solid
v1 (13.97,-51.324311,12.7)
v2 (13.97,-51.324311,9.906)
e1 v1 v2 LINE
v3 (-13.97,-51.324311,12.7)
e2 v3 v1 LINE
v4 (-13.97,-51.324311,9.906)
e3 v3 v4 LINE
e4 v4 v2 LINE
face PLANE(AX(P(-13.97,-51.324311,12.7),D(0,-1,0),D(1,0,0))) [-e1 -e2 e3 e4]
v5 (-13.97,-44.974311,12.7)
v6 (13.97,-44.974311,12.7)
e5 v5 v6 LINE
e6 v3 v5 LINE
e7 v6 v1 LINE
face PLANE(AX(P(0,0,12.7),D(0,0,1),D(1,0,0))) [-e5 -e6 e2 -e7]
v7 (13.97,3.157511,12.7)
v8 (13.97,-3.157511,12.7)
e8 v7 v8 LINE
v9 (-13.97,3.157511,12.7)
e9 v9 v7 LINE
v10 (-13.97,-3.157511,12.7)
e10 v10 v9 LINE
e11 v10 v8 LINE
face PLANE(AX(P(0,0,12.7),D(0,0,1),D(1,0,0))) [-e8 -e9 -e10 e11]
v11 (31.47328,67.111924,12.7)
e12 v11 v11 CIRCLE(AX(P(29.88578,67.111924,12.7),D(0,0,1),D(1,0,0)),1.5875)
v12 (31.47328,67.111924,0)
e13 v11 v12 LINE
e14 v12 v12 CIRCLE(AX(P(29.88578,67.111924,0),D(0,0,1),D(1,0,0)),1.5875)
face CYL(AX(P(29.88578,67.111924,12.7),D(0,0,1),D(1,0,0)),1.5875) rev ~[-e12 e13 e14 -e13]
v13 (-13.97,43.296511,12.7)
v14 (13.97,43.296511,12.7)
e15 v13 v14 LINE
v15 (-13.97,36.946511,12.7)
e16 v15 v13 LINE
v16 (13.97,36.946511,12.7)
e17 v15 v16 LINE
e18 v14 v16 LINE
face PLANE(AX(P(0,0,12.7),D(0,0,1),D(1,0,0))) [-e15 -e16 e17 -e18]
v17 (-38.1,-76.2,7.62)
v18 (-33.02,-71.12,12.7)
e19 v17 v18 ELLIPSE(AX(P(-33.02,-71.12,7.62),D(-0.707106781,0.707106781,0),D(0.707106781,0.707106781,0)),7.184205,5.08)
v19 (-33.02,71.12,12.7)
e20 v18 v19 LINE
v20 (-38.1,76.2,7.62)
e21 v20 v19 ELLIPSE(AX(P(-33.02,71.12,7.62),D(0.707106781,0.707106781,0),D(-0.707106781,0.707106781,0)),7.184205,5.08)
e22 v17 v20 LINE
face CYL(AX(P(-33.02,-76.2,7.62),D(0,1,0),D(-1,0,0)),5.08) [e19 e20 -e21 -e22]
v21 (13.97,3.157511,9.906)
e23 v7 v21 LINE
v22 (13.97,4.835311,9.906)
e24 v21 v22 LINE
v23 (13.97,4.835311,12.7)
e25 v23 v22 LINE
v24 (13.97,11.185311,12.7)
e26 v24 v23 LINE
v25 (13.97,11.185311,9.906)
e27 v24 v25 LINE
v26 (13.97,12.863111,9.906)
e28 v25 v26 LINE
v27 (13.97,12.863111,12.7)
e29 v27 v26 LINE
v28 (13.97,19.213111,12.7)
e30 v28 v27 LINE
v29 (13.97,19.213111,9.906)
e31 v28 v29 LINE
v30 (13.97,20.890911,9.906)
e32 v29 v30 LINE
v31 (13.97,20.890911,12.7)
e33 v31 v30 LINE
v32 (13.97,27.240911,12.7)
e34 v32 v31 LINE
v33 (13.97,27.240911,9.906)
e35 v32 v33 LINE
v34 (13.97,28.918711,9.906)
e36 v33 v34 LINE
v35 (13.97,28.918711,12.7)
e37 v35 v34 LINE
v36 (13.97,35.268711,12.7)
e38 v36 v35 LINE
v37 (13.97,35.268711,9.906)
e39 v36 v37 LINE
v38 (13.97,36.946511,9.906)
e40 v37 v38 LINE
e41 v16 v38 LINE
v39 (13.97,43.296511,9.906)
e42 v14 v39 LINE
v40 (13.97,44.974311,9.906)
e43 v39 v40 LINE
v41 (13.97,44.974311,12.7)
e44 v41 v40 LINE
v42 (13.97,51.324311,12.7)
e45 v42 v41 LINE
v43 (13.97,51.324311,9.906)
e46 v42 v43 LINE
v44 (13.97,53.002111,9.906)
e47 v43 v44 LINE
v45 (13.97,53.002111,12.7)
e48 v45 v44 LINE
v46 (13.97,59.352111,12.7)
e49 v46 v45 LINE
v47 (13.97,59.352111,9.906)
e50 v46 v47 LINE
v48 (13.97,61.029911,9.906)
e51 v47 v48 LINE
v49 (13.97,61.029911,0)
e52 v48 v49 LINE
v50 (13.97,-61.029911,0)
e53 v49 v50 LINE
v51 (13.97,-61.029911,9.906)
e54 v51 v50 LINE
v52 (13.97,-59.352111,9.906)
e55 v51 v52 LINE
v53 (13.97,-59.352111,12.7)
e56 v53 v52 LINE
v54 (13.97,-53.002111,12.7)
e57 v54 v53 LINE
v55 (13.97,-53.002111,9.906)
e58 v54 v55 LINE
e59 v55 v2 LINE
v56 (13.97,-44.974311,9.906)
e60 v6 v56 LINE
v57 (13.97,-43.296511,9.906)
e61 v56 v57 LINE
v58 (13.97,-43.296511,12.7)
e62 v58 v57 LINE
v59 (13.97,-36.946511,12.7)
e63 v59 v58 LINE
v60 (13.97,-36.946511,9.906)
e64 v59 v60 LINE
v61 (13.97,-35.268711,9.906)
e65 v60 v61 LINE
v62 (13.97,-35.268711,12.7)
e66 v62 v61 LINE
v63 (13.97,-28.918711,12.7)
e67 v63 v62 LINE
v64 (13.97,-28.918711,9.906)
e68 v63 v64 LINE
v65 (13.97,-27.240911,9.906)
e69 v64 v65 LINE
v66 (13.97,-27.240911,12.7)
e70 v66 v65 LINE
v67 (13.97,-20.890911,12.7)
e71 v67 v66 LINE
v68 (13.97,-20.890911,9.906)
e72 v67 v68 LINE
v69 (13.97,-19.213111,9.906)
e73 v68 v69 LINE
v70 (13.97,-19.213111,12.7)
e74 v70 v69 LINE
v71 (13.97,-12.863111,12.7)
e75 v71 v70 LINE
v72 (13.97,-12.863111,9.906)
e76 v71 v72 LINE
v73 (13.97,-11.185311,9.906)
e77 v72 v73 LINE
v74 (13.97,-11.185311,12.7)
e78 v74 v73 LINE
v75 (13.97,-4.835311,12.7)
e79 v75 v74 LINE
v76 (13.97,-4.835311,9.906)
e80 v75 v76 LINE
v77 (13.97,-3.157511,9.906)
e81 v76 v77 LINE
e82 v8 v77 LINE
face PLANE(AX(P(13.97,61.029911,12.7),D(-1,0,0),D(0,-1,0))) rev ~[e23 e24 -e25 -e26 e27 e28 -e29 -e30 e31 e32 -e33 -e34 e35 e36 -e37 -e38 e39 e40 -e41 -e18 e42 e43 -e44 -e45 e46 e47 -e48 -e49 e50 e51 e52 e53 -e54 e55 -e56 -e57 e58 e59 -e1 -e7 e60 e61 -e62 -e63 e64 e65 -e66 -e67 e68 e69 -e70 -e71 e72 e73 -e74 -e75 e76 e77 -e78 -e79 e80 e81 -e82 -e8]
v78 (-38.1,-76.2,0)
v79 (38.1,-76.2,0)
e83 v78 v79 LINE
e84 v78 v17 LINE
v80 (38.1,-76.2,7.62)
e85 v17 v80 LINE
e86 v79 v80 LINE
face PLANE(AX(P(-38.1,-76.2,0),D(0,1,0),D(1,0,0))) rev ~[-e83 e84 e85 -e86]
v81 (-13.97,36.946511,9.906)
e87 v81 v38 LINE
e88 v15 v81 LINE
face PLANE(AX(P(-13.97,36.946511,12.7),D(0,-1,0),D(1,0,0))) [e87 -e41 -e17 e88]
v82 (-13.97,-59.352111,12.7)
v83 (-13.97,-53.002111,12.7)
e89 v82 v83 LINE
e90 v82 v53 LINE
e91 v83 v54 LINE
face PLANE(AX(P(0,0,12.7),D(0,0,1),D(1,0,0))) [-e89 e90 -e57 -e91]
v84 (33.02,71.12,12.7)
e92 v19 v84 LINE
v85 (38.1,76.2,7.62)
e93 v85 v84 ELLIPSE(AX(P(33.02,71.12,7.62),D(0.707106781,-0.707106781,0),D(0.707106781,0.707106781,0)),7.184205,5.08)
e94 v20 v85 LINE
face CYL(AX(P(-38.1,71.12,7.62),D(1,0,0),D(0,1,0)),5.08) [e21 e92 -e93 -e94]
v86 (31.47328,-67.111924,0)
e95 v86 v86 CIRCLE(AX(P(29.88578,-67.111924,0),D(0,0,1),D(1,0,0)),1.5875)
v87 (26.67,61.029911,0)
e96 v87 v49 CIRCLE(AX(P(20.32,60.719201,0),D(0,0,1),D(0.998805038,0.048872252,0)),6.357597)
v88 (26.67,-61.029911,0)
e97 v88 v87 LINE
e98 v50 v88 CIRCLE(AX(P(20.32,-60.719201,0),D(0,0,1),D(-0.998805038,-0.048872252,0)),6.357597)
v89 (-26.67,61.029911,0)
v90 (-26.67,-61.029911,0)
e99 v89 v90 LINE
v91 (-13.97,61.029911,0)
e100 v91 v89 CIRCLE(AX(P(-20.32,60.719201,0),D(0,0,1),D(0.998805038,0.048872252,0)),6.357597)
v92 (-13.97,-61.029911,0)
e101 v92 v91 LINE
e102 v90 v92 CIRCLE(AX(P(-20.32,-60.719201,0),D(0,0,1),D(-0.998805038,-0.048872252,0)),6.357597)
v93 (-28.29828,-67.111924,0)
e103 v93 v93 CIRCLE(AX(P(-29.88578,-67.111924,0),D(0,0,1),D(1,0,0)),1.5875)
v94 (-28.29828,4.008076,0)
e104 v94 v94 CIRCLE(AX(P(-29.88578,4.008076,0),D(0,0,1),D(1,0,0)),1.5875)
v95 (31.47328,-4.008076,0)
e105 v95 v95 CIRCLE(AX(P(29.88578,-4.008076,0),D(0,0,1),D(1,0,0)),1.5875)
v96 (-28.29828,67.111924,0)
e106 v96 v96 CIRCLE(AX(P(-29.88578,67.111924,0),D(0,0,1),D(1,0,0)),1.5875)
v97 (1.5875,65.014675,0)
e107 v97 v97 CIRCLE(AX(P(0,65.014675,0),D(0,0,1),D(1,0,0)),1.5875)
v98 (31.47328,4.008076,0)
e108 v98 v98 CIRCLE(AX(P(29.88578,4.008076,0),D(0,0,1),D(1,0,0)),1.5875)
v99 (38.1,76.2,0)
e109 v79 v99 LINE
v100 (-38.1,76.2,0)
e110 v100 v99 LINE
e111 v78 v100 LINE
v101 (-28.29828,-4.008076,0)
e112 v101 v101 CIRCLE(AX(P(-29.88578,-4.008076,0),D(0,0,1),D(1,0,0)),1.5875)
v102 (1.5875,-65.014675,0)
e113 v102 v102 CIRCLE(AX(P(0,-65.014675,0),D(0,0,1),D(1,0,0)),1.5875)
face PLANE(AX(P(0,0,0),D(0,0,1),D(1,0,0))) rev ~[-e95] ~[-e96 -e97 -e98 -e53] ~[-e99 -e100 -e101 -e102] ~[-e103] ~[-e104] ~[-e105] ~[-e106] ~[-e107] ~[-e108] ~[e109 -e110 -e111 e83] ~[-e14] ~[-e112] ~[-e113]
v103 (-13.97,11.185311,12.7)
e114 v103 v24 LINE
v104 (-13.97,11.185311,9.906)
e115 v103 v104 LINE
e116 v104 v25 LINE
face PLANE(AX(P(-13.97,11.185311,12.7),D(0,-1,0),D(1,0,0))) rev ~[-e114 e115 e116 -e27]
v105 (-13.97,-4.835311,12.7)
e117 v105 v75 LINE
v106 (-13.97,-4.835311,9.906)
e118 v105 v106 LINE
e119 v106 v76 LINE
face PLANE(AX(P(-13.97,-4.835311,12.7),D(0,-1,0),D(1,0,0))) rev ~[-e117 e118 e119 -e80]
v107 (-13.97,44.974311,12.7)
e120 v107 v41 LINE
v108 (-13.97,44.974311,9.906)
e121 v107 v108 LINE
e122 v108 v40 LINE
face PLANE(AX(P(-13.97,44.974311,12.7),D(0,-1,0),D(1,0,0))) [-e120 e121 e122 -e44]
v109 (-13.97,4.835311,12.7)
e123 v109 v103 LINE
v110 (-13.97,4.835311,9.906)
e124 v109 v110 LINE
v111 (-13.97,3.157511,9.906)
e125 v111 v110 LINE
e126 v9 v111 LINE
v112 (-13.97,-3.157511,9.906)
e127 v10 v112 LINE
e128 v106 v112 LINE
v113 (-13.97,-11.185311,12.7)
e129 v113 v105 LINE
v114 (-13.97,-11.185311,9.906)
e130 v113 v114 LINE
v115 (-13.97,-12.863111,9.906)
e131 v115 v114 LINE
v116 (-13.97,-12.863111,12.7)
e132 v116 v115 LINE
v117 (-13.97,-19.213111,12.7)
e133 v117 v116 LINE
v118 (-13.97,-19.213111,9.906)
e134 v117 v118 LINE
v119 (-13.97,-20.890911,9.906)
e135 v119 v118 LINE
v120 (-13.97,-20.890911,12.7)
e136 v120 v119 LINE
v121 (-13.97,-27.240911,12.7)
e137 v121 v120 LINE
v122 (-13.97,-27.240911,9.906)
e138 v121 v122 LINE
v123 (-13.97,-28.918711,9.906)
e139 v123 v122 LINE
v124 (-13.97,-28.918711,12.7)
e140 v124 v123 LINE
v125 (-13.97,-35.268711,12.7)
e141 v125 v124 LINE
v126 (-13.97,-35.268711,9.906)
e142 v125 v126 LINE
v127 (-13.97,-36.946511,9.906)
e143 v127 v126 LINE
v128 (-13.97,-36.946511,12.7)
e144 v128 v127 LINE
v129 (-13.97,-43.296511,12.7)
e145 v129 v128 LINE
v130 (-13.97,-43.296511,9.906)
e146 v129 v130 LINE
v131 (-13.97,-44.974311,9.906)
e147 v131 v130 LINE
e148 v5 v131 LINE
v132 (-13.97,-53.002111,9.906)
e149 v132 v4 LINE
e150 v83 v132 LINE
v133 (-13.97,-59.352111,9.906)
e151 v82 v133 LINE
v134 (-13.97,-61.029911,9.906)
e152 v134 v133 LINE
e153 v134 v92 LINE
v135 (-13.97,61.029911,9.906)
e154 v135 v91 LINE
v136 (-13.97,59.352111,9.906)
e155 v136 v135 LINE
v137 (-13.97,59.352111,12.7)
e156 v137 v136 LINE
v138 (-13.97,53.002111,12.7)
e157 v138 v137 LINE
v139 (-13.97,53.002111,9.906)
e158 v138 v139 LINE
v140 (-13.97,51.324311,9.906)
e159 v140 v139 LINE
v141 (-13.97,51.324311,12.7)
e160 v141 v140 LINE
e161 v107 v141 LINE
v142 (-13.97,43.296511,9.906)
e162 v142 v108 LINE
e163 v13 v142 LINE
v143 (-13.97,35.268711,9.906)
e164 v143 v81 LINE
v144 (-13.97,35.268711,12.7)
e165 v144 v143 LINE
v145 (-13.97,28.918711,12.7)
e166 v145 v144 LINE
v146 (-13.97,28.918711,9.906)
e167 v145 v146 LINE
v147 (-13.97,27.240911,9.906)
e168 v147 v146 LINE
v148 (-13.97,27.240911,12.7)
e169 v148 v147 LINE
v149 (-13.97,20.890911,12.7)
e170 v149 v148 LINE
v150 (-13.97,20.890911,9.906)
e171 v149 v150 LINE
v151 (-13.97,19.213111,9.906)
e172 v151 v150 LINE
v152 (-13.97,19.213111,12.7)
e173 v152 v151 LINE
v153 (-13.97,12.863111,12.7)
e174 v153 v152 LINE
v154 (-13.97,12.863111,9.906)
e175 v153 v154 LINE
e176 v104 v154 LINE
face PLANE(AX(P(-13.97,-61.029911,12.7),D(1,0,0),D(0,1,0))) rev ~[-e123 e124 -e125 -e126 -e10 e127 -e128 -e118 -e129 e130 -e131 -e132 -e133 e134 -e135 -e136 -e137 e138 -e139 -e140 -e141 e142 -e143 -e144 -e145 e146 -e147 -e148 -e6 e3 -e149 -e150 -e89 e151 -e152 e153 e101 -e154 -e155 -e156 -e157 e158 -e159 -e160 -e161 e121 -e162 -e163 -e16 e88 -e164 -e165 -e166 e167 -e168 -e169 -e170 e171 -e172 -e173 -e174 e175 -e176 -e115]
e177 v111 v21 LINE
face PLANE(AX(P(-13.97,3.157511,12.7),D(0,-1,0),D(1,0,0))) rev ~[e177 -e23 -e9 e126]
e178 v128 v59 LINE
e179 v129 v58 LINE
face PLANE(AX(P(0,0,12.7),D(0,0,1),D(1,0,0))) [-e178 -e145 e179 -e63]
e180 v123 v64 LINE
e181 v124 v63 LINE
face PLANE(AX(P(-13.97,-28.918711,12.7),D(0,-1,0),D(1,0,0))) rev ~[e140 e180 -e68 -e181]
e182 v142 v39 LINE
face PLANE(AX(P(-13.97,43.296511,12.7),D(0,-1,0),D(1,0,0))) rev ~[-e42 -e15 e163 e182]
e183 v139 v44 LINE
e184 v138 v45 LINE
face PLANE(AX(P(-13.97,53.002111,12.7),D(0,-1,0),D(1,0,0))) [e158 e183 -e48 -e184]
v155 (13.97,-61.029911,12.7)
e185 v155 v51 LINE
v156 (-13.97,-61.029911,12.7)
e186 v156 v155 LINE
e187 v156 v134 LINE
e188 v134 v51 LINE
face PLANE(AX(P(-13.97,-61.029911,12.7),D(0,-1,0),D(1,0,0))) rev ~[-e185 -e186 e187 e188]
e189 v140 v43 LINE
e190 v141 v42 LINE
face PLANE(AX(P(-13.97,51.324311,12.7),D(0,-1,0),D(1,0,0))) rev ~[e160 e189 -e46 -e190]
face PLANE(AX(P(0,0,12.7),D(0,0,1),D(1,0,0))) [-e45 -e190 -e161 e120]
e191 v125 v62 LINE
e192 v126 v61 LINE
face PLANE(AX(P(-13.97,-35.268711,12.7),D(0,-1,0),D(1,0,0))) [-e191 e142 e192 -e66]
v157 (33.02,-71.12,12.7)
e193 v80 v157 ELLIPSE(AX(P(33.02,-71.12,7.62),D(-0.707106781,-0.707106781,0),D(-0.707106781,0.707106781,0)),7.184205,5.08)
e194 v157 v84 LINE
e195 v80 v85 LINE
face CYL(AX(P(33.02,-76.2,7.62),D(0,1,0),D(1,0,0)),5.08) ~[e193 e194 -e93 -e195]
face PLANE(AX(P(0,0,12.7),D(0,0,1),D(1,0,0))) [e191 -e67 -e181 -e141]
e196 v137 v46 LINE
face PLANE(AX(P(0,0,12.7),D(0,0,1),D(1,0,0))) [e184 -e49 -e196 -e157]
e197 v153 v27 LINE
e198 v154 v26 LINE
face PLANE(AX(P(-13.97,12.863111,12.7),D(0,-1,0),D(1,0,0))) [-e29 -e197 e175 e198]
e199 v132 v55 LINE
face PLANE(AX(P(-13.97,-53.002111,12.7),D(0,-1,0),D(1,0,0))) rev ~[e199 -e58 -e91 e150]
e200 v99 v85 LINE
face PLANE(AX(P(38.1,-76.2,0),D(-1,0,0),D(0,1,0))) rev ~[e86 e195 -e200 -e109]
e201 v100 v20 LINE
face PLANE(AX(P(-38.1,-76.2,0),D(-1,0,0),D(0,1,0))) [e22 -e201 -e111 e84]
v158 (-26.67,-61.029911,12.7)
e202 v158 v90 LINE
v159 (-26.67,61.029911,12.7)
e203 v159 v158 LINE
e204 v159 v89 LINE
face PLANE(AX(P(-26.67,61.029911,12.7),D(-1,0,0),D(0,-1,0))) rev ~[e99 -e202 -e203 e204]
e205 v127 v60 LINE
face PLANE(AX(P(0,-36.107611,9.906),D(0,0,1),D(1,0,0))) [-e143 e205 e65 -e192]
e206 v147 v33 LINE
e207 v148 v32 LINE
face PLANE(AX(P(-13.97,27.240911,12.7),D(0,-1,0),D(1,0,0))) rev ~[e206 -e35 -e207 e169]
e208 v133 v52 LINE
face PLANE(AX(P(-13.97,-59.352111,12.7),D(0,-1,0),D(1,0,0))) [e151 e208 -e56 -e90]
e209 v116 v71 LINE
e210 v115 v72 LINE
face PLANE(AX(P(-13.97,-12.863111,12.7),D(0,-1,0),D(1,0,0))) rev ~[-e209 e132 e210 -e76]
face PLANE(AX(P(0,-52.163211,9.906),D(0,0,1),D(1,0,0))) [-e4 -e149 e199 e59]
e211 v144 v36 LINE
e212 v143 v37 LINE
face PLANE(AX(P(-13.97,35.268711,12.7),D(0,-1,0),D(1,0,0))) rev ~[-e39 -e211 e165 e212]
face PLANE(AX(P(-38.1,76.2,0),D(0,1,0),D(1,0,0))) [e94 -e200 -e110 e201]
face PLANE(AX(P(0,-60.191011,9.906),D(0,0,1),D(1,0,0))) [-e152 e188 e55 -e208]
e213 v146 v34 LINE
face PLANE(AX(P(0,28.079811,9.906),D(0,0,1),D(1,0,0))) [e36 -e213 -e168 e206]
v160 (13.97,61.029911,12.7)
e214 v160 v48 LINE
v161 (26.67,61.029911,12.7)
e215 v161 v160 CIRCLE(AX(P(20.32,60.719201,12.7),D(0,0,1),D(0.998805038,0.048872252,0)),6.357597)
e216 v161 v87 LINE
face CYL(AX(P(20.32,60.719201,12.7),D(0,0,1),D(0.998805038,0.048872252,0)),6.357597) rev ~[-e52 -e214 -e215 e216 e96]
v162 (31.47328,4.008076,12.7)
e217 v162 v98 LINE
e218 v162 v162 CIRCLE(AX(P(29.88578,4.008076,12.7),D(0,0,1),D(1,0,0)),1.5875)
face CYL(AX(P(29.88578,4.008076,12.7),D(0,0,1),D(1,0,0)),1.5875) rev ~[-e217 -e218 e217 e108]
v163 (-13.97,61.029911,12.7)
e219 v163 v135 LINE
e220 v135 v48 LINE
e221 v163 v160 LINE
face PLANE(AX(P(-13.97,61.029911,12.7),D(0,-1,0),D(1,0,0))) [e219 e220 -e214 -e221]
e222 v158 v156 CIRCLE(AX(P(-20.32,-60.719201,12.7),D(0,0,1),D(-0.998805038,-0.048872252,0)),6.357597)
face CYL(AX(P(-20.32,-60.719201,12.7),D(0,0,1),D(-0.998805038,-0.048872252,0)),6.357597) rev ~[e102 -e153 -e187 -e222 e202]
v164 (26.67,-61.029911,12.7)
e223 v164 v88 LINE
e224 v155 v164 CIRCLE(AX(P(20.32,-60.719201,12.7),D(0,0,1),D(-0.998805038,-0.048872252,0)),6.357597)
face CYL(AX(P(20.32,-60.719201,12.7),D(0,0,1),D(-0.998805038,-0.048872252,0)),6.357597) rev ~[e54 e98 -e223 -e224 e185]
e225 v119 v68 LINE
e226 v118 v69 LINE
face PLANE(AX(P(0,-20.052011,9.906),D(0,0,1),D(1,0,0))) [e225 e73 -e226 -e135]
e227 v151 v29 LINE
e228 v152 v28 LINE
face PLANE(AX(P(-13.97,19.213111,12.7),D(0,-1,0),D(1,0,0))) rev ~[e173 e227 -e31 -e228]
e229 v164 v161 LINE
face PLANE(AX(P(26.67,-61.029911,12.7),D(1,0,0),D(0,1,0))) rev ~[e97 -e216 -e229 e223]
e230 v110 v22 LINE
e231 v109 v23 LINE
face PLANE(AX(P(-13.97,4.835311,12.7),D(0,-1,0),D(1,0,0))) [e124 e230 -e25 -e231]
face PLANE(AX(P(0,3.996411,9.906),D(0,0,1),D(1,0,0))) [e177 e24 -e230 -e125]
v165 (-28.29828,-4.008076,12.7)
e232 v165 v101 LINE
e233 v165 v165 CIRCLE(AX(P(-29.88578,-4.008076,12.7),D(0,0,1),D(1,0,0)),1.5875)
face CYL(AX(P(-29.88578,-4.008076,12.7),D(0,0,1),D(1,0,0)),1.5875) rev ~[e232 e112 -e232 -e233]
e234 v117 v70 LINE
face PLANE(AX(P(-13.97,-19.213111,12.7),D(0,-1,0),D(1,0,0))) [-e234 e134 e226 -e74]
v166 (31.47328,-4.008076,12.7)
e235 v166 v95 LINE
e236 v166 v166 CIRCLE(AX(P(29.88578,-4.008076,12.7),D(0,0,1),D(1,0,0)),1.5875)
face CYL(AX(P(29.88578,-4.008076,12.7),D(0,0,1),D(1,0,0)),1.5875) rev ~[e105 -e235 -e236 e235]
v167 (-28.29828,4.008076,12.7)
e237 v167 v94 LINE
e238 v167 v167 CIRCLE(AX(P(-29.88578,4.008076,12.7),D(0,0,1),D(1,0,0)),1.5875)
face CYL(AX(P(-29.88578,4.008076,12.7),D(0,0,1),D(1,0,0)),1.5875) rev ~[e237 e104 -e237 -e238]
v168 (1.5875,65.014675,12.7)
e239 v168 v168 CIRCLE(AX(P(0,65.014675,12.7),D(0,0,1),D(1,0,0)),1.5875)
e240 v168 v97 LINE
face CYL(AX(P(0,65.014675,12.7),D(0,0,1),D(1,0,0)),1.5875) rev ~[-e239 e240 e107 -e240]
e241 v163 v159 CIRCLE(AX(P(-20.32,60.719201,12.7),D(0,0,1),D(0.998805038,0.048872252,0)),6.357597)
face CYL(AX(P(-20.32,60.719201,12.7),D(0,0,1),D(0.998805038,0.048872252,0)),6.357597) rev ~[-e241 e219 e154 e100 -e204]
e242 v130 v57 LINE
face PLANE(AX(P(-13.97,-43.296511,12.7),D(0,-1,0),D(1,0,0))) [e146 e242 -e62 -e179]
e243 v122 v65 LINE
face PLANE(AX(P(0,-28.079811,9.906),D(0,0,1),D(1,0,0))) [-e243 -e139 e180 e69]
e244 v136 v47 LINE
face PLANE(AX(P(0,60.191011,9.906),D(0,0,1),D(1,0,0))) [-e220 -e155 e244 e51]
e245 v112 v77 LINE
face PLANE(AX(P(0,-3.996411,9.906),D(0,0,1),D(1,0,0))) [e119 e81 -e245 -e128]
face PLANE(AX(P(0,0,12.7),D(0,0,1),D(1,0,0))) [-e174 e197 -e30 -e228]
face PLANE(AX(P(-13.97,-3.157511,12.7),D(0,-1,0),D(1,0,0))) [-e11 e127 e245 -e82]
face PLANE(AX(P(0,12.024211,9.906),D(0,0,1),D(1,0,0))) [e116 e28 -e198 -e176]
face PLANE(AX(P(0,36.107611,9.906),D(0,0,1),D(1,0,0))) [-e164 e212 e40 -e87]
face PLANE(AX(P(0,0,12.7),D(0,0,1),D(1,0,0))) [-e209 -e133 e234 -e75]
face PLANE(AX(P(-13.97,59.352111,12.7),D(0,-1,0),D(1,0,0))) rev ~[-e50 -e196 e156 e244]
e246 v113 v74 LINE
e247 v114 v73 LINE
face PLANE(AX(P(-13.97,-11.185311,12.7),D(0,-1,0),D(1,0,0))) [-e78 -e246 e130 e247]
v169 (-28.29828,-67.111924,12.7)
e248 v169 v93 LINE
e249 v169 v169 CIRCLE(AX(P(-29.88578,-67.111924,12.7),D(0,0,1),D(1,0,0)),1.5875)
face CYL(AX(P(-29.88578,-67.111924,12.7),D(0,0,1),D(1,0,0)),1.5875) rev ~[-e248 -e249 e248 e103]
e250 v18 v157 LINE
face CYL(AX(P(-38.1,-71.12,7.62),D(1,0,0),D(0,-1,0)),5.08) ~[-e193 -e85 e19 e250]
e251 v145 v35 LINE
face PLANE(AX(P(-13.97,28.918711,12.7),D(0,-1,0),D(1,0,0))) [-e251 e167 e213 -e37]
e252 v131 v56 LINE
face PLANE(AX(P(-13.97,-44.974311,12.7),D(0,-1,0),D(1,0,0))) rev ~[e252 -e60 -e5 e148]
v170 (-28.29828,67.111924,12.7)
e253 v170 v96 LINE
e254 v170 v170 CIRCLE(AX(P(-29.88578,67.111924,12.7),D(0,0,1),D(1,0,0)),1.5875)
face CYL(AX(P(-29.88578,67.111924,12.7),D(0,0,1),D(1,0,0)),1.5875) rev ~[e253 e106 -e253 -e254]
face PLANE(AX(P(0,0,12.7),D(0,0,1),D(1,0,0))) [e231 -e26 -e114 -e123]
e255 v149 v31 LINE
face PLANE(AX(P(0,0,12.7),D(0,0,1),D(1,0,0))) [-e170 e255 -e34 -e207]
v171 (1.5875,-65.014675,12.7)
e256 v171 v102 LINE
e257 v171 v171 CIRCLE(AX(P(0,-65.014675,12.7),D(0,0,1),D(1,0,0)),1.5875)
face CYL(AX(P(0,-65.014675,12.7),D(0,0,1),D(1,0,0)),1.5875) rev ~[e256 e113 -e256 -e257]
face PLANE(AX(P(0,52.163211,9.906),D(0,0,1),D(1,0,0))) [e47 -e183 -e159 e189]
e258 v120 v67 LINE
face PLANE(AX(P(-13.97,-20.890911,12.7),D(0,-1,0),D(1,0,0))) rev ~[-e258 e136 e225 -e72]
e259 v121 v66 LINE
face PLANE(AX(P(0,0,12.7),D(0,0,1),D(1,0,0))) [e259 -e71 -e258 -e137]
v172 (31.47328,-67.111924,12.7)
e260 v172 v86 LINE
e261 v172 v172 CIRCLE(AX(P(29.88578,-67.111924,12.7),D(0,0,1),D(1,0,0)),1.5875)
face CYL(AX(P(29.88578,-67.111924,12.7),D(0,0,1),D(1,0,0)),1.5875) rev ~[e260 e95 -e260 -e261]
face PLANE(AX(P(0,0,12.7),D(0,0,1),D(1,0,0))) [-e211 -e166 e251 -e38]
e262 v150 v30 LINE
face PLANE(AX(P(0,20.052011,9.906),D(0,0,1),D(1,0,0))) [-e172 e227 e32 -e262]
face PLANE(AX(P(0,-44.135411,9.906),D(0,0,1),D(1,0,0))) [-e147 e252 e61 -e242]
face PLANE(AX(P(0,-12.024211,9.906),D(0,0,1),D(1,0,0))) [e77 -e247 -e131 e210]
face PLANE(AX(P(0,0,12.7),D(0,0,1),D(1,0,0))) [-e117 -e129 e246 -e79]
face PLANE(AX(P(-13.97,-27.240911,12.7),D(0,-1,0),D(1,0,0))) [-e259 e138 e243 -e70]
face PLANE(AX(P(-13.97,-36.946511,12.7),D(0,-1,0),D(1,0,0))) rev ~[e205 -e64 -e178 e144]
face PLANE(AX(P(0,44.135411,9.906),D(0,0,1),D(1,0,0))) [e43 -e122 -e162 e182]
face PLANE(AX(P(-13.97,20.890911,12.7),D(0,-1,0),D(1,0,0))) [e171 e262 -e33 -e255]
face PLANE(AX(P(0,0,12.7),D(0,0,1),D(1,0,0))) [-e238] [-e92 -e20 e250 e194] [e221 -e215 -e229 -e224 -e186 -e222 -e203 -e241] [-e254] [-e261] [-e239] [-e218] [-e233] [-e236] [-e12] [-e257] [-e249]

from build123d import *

# Parameters (mm, degrees)
F0_W     = 76.2
F0_H     = 152.4
F1_DEPTH = 12.7
F2_R     = 5.08
F4_DEPTH = 25.4
F5_R     = 1.5875
F6_DEPTH = 25.4
F7_W     = 27.94
F7_H     = 1.6778
F8_DEPTH = 2.794


with BuildPart() as f1:
    # F0 (on Top) → F1 (new body)
    with BuildSketch(Plane.XY):
        Rectangle(F0_W, F0_H)
    extrude(amount=F1_DEPTH)

    # F2
    f2_edges = [f1.edges().sort_by_distance(p)[0] for p in [
        (-38.1, 0, 12.7),
        (0, 76.2, 12.7),
        (38.1, 0, 12.7),
        (0, -76.2, 12.7),
    ]]
    fillet(f2_edges, radius=F2_R)

    # F3 (on face) → F4 (cut)
    with BuildSketch(Plane.XY.offset(12.7)):
        with BuildLine():
            Line((-13.97, -61.029911), (-13.97, 61.029911))
            ThreePointArc((-13.97, 61.029911), (-20.32, 67.076798), (-26.67, 61.029911))
            Line((-26.67, 61.029911), (-26.67, -61.029911))
            ThreePointArc((-26.67, -61.029911), (-20.32, -67.076798), (-13.97, -61.029911))
        make_face()
        with BuildLine():
            ThreePointArc((26.67, 61.029911), (20.32, 67.076798), (13.97, 61.029911))
            Line((13.97, 61.029911), (13.97, -61.029911))
            ThreePointArc((13.97, -61.029911), (20.32, -67.076798), (26.67, -61.029911))
            Line((26.67, -61.029911), (26.67, 61.029911))
        make_face()
    extrude(amount=-F4_DEPTH, mode=Mode.SUBTRACT)

    # F5 (on face) → F6 (cut)
    with BuildSketch(Plane.XY.offset(12.7)):
        with Locations((0, 65.014675)):
            Circle(F5_R)
        with Locations((0, -65.014675)):
            Circle(F5_R)
        with Locations((-29.88578, 67.111924)):
            Circle(F5_R)
        with Locations((29.88578, 67.111924)):
            Circle(F5_R)
        with Locations((29.88578, -67.111924)):
            Circle(F5_R)
        with Locations((-29.88578, -67.111924)):
            Circle(F5_R)
        with Locations((-29.88578, 4.008076)):
            Circle(F5_R)
        with Locations((29.88578, 4.008076)):
            Circle(F5_R)
        with Locations((-29.88578, -4.008076)):
            Circle(F5_R)
        with Locations((29.88578, -4.008076)):
            Circle(F5_R)
    extrude(amount=-F6_DEPTH, mode=Mode.SUBTRACT)

    # F7 (on face) → F8 (cut)
    with BuildSketch(Plane.XY.offset(12.7)):
        with Locations((0, 60.191011)):
            Rectangle(F7_W, F7_H)
        with Locations((0, 52.163211)):
            Rectangle(F7_W, F7_H)
        with Locations((0, 44.135411)):
            Rectangle(F7_W, F7_H)
        with Locations((0, 36.107611)):
            Rectangle(F7_W, F7_H)
        with Locations((0, 28.079811)):
            Rectangle(F7_W, F7_H)
        with Locations((0, 20.052011)):
            Rectangle(F7_W, F7_H)
        with Locations((0, 12.024211)):
            Rectangle(F7_W, F7_H)
        with Locations((0, 3.996411)):
            Rectangle(F7_W, F7_H)
        with Locations((0, -3.996411)):
            Rectangle(F7_W, F7_H)
        with Locations((0, -12.024211)):
            Rectangle(F7_W, F7_H)
        with Locations((0, -20.052011)):
            Rectangle(F7_W, F7_H)
        with Locations((0, -28.079811)):
            Rectangle(F7_W, F7_H)
        with Locations((0, -36.107611)):
            Rectangle(F7_W, F7_H)
        with Locations((0, -44.135411)):
            Rectangle(F7_W, F7_H)
        with Locations((0, -52.163211)):
            Rectangle(F7_W, F7_H)
        with Locations((0, -60.191011)):
            Rectangle(F7_W, F7_H)
    extrude(amount=-F8_DEPTH, mode=Mode.SUBTRACT)


solid = f1.part
